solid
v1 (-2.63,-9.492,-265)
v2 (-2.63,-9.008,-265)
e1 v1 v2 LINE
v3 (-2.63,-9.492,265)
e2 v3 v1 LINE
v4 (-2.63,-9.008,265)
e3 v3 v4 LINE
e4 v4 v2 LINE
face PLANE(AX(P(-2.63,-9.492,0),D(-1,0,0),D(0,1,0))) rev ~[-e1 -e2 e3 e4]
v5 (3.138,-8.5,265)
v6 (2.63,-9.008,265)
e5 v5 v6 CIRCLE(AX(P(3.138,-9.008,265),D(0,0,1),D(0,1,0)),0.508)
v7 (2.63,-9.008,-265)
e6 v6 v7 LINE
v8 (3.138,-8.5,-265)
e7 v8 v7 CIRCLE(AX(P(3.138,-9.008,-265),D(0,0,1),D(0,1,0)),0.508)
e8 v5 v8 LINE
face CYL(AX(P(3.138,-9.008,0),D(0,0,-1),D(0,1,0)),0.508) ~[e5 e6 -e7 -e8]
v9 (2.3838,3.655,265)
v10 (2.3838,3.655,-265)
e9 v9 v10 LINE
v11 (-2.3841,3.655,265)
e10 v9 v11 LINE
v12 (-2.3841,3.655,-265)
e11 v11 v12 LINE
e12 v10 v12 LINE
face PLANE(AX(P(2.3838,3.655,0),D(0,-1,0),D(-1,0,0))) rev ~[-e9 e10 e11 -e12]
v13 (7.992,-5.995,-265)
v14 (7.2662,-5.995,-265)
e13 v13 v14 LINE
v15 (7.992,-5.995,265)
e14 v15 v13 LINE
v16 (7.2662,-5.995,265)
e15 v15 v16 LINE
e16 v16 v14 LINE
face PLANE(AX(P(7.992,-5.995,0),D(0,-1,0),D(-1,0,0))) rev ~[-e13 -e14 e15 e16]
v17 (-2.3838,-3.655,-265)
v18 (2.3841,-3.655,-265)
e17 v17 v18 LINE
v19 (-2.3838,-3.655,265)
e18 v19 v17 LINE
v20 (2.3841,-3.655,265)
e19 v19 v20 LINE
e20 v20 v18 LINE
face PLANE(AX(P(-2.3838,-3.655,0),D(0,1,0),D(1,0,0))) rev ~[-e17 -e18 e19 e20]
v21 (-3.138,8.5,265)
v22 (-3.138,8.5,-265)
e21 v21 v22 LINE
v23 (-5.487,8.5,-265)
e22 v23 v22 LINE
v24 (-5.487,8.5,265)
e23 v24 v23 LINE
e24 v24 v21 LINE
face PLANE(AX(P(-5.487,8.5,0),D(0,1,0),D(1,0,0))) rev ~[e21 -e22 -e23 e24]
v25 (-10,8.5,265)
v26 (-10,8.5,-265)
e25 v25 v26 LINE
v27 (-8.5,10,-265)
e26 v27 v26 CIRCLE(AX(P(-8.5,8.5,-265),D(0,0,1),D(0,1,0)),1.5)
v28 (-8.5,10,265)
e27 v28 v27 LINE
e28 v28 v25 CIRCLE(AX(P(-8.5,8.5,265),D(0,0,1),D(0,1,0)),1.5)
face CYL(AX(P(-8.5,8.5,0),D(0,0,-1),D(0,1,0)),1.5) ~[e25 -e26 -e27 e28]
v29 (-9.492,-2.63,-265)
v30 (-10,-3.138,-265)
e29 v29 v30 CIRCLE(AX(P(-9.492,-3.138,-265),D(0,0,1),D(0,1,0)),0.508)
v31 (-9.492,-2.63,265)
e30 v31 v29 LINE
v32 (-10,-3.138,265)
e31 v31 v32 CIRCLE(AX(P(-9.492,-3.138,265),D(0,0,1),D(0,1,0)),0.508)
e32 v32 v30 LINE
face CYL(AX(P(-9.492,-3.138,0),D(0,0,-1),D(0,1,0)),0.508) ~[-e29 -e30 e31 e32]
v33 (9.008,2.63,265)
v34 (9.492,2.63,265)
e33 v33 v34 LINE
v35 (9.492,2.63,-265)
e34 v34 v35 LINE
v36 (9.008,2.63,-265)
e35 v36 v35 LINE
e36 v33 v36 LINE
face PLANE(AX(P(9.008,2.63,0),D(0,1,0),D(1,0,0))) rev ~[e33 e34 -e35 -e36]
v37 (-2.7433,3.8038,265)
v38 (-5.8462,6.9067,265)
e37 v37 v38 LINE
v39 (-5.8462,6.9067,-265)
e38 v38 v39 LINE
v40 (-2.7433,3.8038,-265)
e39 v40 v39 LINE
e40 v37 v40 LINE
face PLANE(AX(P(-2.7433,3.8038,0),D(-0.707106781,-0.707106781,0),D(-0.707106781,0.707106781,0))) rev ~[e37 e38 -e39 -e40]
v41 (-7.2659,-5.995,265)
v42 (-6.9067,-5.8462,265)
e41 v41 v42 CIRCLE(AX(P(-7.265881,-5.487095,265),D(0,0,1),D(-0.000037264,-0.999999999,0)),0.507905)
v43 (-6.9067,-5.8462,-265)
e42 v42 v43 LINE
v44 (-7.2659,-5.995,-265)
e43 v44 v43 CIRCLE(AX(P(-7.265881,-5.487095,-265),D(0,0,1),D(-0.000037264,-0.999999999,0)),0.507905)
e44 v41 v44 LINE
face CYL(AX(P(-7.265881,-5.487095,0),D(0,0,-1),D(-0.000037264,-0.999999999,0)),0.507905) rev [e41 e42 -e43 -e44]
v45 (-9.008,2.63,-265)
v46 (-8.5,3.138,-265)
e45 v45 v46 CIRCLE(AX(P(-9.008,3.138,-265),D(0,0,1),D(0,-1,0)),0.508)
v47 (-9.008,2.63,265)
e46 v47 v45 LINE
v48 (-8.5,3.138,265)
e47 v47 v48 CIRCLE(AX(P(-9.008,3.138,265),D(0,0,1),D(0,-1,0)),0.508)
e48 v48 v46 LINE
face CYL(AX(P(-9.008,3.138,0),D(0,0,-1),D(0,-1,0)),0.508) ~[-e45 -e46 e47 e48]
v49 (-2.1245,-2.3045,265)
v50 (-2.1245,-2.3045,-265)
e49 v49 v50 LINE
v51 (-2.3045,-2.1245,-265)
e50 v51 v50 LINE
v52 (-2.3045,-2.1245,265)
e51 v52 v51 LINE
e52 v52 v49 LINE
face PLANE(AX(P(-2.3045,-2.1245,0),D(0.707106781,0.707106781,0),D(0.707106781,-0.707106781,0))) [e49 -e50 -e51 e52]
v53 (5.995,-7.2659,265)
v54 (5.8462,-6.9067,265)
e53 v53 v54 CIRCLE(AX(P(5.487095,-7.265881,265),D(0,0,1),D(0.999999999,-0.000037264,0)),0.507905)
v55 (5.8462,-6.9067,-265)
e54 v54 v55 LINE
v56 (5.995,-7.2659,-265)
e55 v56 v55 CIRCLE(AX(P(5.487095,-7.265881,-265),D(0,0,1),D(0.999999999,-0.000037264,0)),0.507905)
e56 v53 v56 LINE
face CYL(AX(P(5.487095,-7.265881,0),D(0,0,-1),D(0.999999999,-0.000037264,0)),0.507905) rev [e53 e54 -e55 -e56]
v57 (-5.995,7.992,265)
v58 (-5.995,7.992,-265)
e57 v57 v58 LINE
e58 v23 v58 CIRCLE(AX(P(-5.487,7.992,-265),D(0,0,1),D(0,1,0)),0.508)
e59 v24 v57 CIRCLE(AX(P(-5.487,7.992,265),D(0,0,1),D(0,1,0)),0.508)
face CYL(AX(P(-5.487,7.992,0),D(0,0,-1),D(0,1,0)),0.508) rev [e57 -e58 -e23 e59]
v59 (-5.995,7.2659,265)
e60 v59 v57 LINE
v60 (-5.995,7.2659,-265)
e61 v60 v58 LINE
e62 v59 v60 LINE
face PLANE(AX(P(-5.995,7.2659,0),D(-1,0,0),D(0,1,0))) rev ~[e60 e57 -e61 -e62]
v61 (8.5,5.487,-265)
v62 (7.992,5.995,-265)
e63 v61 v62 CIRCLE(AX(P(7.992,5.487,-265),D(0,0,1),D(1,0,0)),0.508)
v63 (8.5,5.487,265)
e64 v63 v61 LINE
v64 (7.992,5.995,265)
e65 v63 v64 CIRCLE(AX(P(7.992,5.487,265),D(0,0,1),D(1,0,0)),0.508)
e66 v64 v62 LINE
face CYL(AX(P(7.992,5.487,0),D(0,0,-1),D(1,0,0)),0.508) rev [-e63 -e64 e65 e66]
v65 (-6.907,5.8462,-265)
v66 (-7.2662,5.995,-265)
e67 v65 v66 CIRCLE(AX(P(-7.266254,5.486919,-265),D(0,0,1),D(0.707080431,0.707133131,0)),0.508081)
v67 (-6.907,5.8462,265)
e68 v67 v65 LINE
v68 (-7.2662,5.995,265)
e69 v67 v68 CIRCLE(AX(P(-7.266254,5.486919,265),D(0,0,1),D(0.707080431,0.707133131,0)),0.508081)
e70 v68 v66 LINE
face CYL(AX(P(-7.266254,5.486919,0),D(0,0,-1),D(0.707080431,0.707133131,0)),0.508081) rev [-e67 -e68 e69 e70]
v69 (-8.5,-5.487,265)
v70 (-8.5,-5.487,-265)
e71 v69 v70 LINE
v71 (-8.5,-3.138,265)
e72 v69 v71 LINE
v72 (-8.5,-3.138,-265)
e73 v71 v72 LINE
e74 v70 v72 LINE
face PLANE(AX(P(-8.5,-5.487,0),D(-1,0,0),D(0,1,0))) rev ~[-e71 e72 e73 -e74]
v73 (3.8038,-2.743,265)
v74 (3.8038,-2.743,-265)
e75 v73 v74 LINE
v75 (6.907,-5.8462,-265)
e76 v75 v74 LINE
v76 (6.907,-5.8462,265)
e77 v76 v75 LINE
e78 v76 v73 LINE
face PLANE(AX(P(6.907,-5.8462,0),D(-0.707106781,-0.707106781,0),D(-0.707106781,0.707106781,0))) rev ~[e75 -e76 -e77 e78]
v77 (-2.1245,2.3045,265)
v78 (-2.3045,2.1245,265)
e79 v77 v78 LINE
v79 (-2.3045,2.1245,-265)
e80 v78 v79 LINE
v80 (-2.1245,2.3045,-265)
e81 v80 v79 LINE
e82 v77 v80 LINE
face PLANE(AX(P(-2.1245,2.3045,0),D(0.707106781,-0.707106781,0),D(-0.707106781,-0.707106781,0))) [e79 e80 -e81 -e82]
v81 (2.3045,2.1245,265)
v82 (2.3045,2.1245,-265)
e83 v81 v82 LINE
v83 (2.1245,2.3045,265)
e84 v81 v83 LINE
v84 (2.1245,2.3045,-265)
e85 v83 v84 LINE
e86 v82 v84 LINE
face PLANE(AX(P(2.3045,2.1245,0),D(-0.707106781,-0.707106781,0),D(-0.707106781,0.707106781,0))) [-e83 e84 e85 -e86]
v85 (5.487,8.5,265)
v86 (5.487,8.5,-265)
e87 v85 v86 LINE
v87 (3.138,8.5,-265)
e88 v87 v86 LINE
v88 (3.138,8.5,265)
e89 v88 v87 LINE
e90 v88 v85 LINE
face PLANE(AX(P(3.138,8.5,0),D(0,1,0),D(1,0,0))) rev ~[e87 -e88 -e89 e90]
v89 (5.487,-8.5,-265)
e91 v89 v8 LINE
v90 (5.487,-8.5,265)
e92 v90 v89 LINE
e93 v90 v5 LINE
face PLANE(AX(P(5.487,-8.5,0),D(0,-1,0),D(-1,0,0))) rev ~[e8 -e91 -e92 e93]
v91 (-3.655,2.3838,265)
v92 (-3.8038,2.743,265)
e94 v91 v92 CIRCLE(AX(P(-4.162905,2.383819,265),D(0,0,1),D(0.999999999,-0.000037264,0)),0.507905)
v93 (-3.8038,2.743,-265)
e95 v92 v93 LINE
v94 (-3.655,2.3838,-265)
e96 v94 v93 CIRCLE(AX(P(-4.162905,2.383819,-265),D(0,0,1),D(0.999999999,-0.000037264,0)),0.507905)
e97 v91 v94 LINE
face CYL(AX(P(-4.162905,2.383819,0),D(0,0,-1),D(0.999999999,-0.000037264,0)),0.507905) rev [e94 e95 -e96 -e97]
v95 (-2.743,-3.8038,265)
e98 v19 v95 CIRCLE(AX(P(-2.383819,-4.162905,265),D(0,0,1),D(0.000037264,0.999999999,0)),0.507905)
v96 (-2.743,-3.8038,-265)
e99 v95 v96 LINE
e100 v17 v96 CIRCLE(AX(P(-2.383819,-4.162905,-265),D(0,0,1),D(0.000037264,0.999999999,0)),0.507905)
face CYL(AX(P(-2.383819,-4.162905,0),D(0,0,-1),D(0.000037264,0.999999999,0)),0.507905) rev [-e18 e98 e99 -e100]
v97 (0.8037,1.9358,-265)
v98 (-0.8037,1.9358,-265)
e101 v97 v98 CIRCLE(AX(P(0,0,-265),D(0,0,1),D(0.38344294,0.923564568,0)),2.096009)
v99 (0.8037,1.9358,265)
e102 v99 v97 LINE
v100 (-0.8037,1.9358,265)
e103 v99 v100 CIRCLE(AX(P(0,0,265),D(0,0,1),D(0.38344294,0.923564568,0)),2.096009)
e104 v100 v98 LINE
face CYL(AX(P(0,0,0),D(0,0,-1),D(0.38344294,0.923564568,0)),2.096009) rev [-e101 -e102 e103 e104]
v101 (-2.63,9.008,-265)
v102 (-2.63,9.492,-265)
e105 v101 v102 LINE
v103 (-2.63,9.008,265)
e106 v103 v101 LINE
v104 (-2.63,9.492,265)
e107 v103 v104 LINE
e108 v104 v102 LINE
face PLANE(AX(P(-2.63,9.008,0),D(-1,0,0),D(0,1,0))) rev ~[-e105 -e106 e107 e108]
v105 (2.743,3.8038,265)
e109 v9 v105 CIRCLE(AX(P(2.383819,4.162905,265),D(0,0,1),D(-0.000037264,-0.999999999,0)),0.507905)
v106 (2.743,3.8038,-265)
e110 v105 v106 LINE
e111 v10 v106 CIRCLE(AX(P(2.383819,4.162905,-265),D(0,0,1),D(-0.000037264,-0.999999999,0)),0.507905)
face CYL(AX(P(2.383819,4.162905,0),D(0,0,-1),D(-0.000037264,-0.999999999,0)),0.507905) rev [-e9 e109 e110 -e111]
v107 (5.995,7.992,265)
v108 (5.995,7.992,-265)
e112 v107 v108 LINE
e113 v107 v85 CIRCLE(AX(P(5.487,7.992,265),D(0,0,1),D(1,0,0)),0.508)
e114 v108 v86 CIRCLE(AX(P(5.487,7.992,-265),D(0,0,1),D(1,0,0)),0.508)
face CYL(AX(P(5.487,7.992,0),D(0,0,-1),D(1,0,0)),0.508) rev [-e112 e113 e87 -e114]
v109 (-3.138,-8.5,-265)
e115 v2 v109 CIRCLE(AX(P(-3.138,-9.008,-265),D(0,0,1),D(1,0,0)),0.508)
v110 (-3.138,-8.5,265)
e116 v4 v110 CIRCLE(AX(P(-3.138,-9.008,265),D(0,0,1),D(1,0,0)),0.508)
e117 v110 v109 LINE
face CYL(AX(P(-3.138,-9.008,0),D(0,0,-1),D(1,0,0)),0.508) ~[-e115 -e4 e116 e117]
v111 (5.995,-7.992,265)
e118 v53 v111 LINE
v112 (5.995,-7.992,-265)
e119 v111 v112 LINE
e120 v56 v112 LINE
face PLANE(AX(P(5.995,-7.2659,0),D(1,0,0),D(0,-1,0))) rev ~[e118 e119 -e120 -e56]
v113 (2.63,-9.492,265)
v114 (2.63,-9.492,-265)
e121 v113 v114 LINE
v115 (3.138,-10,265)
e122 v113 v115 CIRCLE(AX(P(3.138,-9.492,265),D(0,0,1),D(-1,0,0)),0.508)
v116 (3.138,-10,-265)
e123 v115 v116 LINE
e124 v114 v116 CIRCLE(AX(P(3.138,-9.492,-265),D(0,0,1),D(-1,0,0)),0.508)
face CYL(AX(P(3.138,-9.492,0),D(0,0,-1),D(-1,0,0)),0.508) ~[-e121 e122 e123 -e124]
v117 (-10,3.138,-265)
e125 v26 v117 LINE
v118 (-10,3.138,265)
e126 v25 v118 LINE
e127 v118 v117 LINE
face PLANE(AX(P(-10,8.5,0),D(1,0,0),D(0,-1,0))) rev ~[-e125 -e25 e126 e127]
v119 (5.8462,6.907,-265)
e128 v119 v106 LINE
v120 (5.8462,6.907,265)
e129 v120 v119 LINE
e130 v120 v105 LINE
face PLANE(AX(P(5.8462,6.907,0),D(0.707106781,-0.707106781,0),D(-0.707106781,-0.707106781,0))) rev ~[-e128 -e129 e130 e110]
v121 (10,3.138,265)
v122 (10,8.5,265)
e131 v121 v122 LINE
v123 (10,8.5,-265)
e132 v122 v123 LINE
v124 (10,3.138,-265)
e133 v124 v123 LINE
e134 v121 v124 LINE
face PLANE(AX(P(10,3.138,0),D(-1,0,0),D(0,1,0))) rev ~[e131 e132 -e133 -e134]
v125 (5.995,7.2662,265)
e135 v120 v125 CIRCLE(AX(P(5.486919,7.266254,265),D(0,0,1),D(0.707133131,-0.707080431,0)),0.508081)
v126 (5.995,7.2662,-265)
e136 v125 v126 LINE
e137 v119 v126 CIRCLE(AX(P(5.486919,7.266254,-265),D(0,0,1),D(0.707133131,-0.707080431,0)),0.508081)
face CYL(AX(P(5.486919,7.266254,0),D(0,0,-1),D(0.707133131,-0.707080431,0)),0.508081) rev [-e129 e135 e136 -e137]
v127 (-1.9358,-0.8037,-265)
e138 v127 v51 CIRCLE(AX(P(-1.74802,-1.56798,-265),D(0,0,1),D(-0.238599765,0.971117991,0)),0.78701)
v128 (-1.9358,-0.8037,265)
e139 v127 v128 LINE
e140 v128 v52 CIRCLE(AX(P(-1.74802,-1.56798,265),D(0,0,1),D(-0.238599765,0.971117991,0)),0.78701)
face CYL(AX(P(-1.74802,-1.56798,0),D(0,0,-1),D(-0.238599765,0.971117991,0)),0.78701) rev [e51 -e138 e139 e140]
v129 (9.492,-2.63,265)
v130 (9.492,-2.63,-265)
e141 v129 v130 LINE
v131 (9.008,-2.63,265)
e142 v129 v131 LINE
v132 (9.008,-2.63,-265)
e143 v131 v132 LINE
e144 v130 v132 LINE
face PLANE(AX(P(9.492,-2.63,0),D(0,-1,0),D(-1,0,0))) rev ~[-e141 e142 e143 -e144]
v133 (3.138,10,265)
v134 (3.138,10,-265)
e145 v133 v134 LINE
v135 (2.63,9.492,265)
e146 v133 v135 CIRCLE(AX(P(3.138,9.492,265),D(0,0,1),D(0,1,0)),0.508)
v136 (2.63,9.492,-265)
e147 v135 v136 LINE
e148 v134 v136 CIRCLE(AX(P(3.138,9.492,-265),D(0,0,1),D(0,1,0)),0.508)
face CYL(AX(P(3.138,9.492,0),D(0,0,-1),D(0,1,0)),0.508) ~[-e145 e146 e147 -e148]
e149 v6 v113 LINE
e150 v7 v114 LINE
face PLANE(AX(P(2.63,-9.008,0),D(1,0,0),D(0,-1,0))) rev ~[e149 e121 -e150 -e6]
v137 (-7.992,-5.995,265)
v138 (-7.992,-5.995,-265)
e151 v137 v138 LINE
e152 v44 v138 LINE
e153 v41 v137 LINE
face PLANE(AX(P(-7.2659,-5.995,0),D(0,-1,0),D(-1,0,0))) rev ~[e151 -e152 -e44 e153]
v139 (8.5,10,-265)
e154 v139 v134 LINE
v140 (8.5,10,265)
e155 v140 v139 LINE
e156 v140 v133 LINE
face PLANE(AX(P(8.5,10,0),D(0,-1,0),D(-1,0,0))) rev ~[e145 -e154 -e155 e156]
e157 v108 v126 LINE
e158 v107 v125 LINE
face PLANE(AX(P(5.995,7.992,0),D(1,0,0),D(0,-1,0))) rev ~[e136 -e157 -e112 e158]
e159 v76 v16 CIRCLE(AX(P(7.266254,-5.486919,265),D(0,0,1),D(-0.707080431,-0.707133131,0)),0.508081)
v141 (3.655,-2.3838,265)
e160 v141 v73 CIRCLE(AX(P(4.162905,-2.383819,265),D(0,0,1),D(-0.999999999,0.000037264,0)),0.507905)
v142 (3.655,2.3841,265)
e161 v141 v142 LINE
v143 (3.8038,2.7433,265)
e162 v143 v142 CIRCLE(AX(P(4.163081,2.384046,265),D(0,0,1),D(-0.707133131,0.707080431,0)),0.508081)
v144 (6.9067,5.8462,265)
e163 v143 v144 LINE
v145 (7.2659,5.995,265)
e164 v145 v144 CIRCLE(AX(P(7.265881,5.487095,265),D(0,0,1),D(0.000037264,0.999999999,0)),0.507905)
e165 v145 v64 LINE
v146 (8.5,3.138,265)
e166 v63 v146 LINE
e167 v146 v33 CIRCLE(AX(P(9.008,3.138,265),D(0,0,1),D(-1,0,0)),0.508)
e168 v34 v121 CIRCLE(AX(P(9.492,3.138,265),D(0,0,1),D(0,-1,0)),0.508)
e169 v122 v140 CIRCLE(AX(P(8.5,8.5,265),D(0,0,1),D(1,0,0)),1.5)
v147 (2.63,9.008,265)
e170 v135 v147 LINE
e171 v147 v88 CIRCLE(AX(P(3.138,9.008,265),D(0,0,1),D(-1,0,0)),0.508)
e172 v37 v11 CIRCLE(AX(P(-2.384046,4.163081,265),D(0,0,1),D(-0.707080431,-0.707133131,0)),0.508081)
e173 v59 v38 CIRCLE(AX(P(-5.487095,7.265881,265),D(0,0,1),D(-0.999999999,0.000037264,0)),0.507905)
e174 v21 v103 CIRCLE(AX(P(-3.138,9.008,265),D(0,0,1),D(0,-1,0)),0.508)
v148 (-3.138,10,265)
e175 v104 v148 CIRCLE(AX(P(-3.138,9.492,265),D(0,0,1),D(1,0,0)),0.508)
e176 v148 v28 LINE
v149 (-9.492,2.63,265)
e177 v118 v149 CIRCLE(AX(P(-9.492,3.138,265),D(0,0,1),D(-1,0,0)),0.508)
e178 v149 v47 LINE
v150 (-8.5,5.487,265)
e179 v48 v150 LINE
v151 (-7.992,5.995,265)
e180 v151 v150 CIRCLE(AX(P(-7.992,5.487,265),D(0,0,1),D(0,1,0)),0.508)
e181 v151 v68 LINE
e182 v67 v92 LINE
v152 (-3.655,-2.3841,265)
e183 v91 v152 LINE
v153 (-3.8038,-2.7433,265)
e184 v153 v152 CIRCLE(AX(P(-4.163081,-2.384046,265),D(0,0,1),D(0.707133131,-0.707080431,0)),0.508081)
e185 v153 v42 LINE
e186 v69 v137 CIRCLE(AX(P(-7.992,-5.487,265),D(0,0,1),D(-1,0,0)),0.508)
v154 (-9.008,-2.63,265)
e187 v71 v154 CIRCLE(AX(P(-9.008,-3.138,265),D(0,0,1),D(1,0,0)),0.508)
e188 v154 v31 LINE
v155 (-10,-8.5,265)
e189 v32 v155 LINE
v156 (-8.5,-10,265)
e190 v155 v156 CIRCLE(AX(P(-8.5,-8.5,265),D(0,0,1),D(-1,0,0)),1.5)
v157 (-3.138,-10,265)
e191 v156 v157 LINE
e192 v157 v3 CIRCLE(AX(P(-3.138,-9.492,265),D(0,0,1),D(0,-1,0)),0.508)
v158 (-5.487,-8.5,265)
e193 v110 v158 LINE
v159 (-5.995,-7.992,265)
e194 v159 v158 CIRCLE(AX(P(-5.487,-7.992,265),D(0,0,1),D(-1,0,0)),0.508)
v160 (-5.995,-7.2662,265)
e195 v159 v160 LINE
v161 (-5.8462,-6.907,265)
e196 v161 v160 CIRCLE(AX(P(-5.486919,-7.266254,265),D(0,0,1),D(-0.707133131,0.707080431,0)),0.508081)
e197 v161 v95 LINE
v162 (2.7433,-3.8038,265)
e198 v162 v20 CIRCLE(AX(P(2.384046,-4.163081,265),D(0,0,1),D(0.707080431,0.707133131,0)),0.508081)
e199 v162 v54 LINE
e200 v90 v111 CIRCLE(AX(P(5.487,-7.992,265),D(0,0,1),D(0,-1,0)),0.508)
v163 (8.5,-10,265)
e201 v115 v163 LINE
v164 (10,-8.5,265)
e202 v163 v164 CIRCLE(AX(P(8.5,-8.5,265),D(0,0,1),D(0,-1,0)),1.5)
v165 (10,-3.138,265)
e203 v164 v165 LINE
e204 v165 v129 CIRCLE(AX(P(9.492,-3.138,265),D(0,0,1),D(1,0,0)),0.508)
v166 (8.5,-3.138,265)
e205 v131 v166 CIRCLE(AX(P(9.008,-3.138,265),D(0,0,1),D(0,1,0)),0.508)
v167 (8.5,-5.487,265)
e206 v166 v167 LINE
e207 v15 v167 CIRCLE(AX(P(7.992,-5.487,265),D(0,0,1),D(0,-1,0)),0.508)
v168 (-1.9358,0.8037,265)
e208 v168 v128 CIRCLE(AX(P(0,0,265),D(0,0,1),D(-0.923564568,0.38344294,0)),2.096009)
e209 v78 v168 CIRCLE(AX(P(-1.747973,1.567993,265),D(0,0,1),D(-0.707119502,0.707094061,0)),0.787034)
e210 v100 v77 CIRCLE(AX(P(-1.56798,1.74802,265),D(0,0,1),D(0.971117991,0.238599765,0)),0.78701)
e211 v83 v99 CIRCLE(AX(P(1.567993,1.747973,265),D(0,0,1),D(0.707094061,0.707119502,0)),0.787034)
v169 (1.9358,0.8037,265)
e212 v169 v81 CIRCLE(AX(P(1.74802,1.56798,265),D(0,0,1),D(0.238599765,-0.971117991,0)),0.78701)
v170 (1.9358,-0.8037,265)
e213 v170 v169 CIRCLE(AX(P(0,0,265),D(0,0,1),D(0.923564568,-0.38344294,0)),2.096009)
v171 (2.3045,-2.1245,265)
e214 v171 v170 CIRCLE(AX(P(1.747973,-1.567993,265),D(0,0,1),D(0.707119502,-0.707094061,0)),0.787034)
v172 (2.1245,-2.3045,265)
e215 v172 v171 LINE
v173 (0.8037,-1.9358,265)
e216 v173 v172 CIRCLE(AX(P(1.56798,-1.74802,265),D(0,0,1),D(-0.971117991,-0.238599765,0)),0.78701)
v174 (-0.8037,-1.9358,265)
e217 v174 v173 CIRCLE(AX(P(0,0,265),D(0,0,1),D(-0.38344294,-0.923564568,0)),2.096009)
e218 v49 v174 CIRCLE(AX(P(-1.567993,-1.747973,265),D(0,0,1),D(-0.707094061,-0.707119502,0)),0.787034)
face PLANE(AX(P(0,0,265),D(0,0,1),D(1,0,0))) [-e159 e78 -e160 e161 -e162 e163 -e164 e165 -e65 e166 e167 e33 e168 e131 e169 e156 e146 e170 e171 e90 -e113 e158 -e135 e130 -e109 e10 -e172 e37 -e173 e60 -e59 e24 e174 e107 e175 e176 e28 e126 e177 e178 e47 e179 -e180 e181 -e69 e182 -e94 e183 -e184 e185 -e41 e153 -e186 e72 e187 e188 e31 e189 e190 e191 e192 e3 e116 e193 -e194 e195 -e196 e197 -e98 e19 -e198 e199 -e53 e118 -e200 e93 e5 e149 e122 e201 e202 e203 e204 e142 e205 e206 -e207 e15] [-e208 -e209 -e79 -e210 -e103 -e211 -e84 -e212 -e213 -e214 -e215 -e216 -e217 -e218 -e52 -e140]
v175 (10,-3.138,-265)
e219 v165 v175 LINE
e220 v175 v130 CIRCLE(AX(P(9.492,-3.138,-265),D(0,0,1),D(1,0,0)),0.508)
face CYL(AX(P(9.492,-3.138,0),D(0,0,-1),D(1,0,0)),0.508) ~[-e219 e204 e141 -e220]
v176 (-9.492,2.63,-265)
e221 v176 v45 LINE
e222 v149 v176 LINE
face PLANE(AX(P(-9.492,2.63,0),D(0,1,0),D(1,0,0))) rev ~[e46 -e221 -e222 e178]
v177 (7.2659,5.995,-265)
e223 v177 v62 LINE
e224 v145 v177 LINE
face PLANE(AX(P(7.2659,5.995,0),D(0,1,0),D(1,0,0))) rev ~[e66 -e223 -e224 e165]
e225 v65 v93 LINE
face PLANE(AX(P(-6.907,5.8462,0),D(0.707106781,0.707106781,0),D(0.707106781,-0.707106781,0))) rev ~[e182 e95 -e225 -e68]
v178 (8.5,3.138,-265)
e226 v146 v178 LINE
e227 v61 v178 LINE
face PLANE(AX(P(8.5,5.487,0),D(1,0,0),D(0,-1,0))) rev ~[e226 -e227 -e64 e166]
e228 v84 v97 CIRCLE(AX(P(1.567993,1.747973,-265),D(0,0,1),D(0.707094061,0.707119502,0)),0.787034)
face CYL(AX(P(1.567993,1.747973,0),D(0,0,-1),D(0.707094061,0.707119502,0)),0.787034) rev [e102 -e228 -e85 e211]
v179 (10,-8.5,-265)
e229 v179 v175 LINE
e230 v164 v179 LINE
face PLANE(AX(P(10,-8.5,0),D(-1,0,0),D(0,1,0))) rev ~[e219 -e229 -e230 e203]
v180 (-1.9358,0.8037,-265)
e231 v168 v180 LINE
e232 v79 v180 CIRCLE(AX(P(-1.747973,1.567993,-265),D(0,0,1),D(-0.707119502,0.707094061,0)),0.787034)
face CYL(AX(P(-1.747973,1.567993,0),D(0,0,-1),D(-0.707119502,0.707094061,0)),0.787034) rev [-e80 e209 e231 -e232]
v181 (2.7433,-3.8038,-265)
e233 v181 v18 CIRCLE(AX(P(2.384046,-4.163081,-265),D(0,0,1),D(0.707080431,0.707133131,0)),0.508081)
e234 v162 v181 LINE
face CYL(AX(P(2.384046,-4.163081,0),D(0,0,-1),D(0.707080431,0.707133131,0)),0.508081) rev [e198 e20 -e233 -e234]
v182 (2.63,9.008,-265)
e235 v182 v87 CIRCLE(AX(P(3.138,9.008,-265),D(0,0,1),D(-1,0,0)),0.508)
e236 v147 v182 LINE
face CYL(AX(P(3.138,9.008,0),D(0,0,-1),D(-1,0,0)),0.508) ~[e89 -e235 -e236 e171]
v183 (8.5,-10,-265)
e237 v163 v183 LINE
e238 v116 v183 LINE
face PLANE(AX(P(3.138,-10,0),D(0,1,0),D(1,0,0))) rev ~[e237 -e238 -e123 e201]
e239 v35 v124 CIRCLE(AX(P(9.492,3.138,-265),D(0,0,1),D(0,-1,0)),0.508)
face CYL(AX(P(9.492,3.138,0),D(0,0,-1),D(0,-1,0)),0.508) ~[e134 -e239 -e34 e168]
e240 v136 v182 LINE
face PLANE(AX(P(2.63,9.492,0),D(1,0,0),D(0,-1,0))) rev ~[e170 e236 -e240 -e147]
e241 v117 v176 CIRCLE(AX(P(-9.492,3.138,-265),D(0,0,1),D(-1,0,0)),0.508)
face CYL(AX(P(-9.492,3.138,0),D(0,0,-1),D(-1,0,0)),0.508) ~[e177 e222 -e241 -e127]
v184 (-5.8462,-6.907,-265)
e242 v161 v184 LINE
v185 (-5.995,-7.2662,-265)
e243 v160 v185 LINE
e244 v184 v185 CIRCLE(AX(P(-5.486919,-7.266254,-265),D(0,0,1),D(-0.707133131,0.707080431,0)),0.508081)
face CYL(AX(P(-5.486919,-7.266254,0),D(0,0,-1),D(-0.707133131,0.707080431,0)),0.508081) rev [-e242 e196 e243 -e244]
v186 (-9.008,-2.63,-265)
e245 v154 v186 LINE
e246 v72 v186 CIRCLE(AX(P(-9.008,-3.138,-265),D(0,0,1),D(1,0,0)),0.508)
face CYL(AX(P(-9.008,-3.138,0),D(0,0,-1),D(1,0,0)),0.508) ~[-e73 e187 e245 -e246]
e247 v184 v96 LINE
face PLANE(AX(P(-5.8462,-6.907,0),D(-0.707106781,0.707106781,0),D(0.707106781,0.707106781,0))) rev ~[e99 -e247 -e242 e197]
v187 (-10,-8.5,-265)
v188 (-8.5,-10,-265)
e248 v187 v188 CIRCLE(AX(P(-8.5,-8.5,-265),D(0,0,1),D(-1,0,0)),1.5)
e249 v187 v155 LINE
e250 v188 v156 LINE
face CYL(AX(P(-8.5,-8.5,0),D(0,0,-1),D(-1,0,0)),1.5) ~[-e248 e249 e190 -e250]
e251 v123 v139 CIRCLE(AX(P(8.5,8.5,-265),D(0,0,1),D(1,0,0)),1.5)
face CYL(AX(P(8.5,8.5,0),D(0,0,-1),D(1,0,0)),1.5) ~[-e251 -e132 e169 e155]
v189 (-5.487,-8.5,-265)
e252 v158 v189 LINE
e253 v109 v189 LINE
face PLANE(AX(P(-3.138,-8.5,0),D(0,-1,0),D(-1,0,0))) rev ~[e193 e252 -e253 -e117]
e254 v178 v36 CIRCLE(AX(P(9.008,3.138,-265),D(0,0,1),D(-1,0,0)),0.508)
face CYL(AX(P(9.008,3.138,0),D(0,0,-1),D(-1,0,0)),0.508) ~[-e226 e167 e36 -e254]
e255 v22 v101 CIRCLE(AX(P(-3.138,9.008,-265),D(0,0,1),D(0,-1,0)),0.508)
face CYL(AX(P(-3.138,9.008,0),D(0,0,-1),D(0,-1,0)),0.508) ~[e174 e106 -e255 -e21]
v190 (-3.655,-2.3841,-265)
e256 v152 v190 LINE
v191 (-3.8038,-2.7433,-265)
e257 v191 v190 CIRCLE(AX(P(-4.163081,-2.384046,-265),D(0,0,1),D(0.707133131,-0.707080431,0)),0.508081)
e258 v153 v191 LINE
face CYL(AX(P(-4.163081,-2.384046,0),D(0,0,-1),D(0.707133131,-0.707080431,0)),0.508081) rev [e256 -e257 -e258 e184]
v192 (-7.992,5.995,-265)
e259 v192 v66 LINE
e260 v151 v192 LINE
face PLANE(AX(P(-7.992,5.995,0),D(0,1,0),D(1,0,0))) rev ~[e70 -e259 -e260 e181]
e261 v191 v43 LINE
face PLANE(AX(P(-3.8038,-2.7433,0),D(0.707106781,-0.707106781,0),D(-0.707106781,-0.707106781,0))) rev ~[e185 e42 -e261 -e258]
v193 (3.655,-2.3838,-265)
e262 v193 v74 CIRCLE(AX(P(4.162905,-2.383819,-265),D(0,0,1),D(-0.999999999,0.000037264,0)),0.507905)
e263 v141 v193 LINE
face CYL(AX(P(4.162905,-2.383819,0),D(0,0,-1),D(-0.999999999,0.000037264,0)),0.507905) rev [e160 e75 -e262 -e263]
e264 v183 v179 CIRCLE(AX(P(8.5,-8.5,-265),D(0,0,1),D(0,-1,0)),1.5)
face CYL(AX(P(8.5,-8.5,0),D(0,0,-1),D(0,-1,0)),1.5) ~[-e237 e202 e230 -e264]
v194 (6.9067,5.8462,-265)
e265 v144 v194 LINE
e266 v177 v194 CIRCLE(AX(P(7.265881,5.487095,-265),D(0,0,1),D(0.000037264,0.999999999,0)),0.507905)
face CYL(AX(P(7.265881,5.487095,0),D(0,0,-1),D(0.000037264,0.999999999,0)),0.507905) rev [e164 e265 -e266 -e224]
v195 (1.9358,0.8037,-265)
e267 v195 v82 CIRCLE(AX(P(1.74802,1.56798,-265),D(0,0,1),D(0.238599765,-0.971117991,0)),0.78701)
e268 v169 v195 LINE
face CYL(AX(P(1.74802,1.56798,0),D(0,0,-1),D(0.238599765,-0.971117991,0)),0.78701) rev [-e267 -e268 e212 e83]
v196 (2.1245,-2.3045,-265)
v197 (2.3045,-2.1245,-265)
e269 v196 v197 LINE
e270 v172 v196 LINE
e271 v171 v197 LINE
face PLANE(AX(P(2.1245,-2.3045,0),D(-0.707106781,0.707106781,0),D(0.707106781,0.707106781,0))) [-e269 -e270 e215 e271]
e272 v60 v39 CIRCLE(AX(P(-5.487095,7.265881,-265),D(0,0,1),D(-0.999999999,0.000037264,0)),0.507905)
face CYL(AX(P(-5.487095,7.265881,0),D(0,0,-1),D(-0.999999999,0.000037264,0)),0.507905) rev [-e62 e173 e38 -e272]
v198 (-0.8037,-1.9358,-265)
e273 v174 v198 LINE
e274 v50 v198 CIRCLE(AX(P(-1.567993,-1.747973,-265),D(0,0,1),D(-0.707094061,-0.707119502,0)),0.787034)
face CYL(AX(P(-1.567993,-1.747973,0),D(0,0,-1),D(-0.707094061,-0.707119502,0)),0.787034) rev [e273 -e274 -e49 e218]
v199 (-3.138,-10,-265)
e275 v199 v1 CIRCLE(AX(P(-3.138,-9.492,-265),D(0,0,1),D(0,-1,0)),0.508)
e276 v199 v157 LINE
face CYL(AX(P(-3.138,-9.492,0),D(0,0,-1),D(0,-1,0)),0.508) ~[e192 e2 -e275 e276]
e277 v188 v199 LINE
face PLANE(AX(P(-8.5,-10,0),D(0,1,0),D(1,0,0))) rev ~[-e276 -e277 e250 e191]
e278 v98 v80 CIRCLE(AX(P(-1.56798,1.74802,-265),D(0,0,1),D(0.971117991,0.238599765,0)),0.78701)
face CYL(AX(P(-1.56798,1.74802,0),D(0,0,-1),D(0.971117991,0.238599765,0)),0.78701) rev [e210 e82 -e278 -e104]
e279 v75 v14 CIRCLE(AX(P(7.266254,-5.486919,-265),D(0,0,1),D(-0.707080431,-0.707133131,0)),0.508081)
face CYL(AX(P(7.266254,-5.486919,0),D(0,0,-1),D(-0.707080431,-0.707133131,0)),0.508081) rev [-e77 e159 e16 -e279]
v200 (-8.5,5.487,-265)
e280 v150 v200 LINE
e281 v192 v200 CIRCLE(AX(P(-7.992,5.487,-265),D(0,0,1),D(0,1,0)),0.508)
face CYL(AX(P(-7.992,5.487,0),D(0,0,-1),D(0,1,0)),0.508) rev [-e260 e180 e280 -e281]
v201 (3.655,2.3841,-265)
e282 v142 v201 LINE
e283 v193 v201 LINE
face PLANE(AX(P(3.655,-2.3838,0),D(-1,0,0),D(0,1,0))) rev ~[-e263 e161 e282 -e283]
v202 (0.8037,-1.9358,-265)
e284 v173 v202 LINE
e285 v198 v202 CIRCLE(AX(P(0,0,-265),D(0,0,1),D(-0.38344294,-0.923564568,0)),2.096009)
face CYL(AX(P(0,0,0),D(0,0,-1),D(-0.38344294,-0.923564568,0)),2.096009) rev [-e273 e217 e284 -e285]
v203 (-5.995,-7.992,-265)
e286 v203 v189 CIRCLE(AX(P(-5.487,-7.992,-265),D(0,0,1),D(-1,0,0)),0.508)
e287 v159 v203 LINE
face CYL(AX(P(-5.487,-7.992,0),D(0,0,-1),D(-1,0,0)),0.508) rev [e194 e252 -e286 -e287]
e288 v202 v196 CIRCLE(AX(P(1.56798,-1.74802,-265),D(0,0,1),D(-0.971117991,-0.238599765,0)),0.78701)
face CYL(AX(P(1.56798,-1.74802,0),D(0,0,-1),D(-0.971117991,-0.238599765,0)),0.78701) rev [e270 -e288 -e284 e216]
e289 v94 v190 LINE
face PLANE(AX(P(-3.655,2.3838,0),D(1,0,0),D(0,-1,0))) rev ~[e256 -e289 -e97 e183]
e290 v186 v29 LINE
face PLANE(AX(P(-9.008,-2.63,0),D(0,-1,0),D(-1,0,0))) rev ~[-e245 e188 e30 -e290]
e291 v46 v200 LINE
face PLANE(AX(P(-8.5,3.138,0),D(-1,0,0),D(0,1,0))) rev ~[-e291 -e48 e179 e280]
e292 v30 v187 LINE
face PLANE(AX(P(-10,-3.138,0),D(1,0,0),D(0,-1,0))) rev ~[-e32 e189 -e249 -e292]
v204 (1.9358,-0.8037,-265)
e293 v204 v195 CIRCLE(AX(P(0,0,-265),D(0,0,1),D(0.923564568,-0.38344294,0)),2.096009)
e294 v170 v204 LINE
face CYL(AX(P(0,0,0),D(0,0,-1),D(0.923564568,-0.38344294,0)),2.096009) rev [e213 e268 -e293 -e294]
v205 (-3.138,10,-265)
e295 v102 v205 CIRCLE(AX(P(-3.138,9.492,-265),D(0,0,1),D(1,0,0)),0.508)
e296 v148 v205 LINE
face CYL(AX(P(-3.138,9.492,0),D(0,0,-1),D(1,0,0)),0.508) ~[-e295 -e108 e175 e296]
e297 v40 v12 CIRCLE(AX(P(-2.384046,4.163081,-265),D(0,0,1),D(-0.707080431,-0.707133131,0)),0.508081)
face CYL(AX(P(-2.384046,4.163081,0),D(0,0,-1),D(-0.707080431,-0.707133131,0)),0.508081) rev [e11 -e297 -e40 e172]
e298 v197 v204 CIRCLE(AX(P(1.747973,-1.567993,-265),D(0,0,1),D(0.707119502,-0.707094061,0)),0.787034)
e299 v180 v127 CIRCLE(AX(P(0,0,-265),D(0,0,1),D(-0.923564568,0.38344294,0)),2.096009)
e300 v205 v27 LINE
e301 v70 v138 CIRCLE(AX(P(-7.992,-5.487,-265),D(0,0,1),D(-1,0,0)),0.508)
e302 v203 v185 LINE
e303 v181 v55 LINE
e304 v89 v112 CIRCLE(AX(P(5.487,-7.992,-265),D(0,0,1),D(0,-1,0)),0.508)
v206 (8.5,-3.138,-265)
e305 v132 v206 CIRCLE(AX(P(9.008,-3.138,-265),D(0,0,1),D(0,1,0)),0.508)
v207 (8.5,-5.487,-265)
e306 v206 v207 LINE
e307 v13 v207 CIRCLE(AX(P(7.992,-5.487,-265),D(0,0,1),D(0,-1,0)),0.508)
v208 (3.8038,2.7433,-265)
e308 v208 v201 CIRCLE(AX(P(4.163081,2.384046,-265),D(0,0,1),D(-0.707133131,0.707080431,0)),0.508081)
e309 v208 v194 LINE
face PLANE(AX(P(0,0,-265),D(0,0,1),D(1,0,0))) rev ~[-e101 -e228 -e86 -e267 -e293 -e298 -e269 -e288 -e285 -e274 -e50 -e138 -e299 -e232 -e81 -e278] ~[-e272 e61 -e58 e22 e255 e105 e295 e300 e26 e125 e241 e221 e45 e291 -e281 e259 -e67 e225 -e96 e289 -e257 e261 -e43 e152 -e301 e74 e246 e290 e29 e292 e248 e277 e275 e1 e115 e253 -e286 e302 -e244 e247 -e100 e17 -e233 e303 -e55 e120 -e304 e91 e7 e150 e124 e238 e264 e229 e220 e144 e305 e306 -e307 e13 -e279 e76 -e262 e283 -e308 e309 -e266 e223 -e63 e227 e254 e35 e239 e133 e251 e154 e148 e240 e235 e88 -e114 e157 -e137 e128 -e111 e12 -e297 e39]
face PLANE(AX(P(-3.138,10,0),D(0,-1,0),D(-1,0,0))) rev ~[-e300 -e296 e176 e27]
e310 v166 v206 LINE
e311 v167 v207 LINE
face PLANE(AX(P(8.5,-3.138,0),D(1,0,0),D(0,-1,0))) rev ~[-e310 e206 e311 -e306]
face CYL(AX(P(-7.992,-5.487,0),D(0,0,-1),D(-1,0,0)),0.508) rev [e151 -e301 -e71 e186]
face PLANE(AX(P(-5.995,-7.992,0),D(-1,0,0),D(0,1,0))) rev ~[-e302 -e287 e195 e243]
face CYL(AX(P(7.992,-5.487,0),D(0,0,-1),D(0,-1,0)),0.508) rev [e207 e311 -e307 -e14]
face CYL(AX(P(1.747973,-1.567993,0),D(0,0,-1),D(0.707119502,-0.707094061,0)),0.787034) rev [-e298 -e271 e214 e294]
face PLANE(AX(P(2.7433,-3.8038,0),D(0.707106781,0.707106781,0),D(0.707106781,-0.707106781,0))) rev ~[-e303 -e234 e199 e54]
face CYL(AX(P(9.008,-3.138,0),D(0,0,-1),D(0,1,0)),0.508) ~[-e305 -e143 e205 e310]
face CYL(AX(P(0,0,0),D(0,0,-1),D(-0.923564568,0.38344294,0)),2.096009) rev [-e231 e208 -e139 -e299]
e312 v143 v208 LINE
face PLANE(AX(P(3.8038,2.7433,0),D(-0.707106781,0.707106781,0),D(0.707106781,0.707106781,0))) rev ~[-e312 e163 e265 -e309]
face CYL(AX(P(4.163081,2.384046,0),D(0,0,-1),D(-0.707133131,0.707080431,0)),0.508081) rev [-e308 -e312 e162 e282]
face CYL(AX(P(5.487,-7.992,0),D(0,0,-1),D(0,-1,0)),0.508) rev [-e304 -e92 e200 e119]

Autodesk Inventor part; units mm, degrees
ref_plane "YZ Plane" through (0, 0, 0) normal (1, 0, 0) x (0, 1, 0)
ref_plane "XZ Plane" through (0, 0, 0) normal (0, 1, 0) x (-1, 0, 0)
ref_plane "XY Plane" through (0, 0, 0) normal (0, 0, 1) x (1, 0, 0)
sketch "Sketch1" plane through (0, 0, 0) normal (0, 0, 1) x (1, 0, 0)
  arc A0 (-10, -8.5) -> (-8.5, -10) centre (-8.5, -8.5) ccw
  line L0 (-8.5, -10) -> (-3.138, -10)
  arc A1 (-3.138, -10) -> (-2.63, -9.492) centre (-3.138, -9.492) ccw
  line L1 (-2.63, -9.492) -> (-2.63, -9.008)
  arc A2 (-2.63, -9.008) -> (-3.138, -8.5) centre (-3.138, -9.008) ccw
  line L2 (-3.138, -8.5) -> (-5.487, -8.5)
  arc A3 (-5.995, -7.992) -> (-5.487, -8.5) centre (-5.487, -7.992) ccw
  line L3 (-5.995, -7.992) -> (-5.995, -7.2662)
  arc A4 (-5.8462, -6.907) -> (-5.995, -7.2662) centre (-5.487, -7.2662) ccw
  line L4 (-5.8462, -6.907) -> (-2.743, -3.8038)
  arc A5 (-2.3838, -3.655) -> (-2.743, -3.8038) centre (-2.3838, -4.163) ccw
  line L5 (-2.3838, -3.655) -> (2.3841, -3.655)
  arc A6 (2.7433, -3.8038) -> (2.3841, -3.655) centre (2.3841, -4.163) ccw
  line L6 (2.7433, -3.8038) -> (5.8462, -6.9067)
  arc A7 (5.995, -7.2659) -> (5.8462, -6.9067) centre (5.487, -7.2659) ccw
  line L7 (5.995, -7.2659) -> (5.995, -7.992)
  arc A8 (5.487, -8.5) -> (5.995, -7.992) centre (5.487, -7.992) ccw
  line L8 (5.487, -8.5) -> (3.138, -8.5)
  arc A9 (3.138, -8.5) -> (2.63, -9.008) centre (3.138, -9.008) ccw
  line L9 (2.63, -9.008) -> (2.63, -9.492)
  arc A10 (2.63, -9.492) -> (3.138, -10) centre (3.138, -9.492) ccw
  line L10 (3.138, -10) -> (8.5, -10)
  arc A11 (8.5, -10) -> (10, -8.5) centre (8.5, -8.5) ccw
  line L11 (10, -8.5) -> (10, -3.138)
  arc A12 (10, -3.138) -> (9.492, -2.63) centre (9.492, -3.138) ccw
  line L12 (9.492, -2.63) -> (9.008, -2.63)
  arc A13 (9.008, -2.63) -> (8.5, -3.138) centre (9.008, -3.138) ccw
  line L13 (8.5, -3.138) -> (8.5, -5.487)
  arc A14 (7.992, -5.995) -> (8.5, -5.487) centre (7.992, -5.487) ccw
  line L14 (7.992, -5.995) -> (7.2662, -5.995)
  arc A15 (6.907, -5.8462) -> (7.2662, -5.995) centre (7.2662, -5.487) ccw
  line L15 (6.907, -5.8462) -> (3.8038, -2.743)
  arc A16 (3.655, -2.3838) -> (3.8038, -2.743) centre (4.163, -2.3838) ccw
  line L16 (3.655, -2.3838) -> (3.655, 2.3841)
  arc A17 (3.8038, 2.7433) -> (3.655, 2.3841) centre (4.163, 2.3841) ccw
  line L17 (3.8038, 2.7433) -> (6.9067, 5.8462)
  arc A18 (7.2659, 5.995) -> (6.9067, 5.8462) centre (7.2659, 5.487) ccw
  line L18 (7.2659, 5.995) -> (7.992, 5.995)
  arc A19 (8.5, 5.487) -> (7.992, 5.995) centre (7.992, 5.487) ccw
  line L19 (8.5, 5.487) -> (8.5, 3.138)
  arc A20 (8.5, 3.138) -> (9.008, 2.63) centre (9.008, 3.138) ccw
  line L20 (9.008, 2.63) -> (9.492, 2.63)
  arc A21 (9.492, 2.63) -> (10, 3.138) centre (9.492, 3.138) ccw
  line L21 (10, 3.138) -> (10, 8.5)
  arc A22 (10, 8.5) -> (8.5, 10) centre (8.5, 8.5) ccw
  line L22 (8.5, 10) -> (3.138, 10)
  arc A23 (3.138, 10) -> (2.63, 9.492) centre (3.138, 9.492) ccw
  line L23 (2.63, 9.492) -> (2.63, 9.008)
  arc A24 (2.63, 9.008) -> (3.138, 8.5) centre (3.138, 9.008) ccw
  line L24 (3.138, 8.5) -> (5.487, 8.5)
  arc A25 (5.995, 7.992) -> (5.487, 8.5) centre (5.487, 7.992) ccw
  line L25 (5.995, 7.992) -> (5.995, 7.2662)
  arc A26 (5.8462, 6.907) -> (5.995, 7.2662) centre (5.487, 7.2662) ccw
  line L26 (5.8462, 6.907) -> (2.743, 3.8038)
  arc A27 (2.3838, 3.655) -> (2.743, 3.8038) centre (2.3838, 4.163) ccw
  line L27 (2.3838, 3.655) -> (-2.3841, 3.655)
  arc A28 (-2.7433, 3.8038) -> (-2.3841, 3.655) centre (-2.3841, 4.163) ccw
  line L28 (-2.7433, 3.8038) -> (-5.8462, 6.9067)
  arc A29 (-5.995, 7.2659) -> (-5.8462, 6.9067) centre (-5.487, 7.2659) ccw
  line L29 (-5.995, 7.2659) -> (-5.995, 7.992)
  arc A30 (-5.487, 8.5) -> (-5.995, 7.992) centre (-5.487, 7.992) ccw
  line L30 (-5.487, 8.5) -> (-3.138, 8.5)
  arc A31 (-3.138, 8.5) -> (-2.63, 9.008) centre (-3.138, 9.008) ccw
  line L31 (-2.63, 9.008) -> (-2.63, 9.492)
  arc A32 (-2.63, 9.492) -> (-3.138, 10) centre (-3.138, 9.492) ccw
  line L32 (-3.138, 10) -> (-8.5, 10)
  arc A33 (-8.5, 10) -> (-10, 8.5) centre (-8.5, 8.5) ccw
  line L33 (-10, 8.5) -> (-10, 3.138)
  arc A34 (-10, 3.138) -> (-9.492, 2.63) centre (-9.492, 3.138) ccw
  line L34 (-9.492, 2.63) -> (-9.008, 2.63)
  arc A35 (-9.008, 2.63) -> (-8.5, 3.138) centre (-9.008, 3.138) ccw
  line L35 (-8.5, 3.138) -> (-8.5, 5.487)
  arc A36 (-7.992, 5.995) -> (-8.5, 5.487) centre (-7.992, 5.487) ccw
  line L36 (-7.992, 5.995) -> (-7.2662, 5.995)
  arc A37 (-6.907, 5.8462) -> (-7.2662, 5.995) centre (-7.2662, 5.487) ccw
  line L37 (-6.907, 5.8462) -> (-3.8038, 2.743)
  arc A38 (-3.655, 2.3838) -> (-3.8038, 2.743) centre (-4.163, 2.3838) ccw
  line L38 (-3.655, 2.3838) -> (-3.655, -2.3841)
  arc A39 (-3.8038, -2.7433) -> (-3.655, -2.3841) centre (-4.163, -2.3841) ccw
  line L39 (-3.8038, -2.7433) -> (-6.9067, -5.8462)
  arc A40 (-7.2659, -5.995) -> (-6.9067, -5.8462) centre (-7.2659, -5.487) ccw
  line L40 (-7.2659, -5.995) -> (-7.992, -5.995)
  arc A41 (-8.5, -5.487) -> (-7.992, -5.995) centre (-7.992, -5.487) ccw
  line L41 (-8.5, -5.487) -> (-8.5, -3.138)
  arc A42 (-8.5, -3.138) -> (-9.008, -2.63) centre (-9.008, -3.138) ccw
  line L42 (-9.008, -2.63) -> (-9.492, -2.63)
  arc A43 (-9.492, -2.63) -> (-10, -3.138) centre (-9.492, -3.138) ccw
  line L43 (-10, -3.138) -> (-10, -8.5)
  arc A44 (-1.9358, -0.8037) -> (-2.3045, -2.1245) centre (-1.748, -1.568) ccw
  line L44 (-2.3045, -2.1245) -> (-2.1245, -2.3045)
  arc A45 (-2.1245, -2.3045) -> (-0.8037, -1.9358) centre (-1.568, -1.748) ccw
  arc A46 (-0.8037, -1.9358) -> (0.8037, -1.9358) centre (0, 0) ccw
  arc A47 (0.8037, -1.9358) -> (2.1245, -2.3045) centre (1.568, -1.748) ccw
  line L45 (2.1245, -2.3045) -> (2.3045, -2.1245)
  arc A48 (2.3045, -2.1245) -> (1.9358, -0.8037) centre (1.748, -1.568) ccw
  arc A49 (1.9358, -0.8037) -> (1.9358, 0.8037) centre (0, 0) ccw
  arc A50 (1.9358, 0.8037) -> (2.3045, 2.1245) centre (1.748, 1.568) ccw
  line L46 (2.3045, 2.1245) -> (2.1245, 2.3045)
  arc A51 (2.1245, 2.3045) -> (0.8037, 1.9358) centre (1.568, 1.748) ccw
  arc A52 (0.8037, 1.9358) -> (-0.8037, 1.9358) centre (0, 0) ccw
  arc A53 (-0.8037, 1.9358) -> (-2.1245, 2.3045) centre (-1.568, 1.748) ccw
  line L47 (-2.1245, 2.3045) -> (-2.3045, 2.1245)
  arc A54 (-2.3045, 2.1245) -> (-1.9358, 0.8037) centre (-1.748, 1.568) ccw
  arc A55 (-1.9358, 0.8037) -> (-1.9358, -0.8037) centre (0, 0) ccw
  point P0 (0, 0)
extrude "Extrusion1" add sketch "Sketch1" along normal mid plane 530
properties part number "20-2020-285"
